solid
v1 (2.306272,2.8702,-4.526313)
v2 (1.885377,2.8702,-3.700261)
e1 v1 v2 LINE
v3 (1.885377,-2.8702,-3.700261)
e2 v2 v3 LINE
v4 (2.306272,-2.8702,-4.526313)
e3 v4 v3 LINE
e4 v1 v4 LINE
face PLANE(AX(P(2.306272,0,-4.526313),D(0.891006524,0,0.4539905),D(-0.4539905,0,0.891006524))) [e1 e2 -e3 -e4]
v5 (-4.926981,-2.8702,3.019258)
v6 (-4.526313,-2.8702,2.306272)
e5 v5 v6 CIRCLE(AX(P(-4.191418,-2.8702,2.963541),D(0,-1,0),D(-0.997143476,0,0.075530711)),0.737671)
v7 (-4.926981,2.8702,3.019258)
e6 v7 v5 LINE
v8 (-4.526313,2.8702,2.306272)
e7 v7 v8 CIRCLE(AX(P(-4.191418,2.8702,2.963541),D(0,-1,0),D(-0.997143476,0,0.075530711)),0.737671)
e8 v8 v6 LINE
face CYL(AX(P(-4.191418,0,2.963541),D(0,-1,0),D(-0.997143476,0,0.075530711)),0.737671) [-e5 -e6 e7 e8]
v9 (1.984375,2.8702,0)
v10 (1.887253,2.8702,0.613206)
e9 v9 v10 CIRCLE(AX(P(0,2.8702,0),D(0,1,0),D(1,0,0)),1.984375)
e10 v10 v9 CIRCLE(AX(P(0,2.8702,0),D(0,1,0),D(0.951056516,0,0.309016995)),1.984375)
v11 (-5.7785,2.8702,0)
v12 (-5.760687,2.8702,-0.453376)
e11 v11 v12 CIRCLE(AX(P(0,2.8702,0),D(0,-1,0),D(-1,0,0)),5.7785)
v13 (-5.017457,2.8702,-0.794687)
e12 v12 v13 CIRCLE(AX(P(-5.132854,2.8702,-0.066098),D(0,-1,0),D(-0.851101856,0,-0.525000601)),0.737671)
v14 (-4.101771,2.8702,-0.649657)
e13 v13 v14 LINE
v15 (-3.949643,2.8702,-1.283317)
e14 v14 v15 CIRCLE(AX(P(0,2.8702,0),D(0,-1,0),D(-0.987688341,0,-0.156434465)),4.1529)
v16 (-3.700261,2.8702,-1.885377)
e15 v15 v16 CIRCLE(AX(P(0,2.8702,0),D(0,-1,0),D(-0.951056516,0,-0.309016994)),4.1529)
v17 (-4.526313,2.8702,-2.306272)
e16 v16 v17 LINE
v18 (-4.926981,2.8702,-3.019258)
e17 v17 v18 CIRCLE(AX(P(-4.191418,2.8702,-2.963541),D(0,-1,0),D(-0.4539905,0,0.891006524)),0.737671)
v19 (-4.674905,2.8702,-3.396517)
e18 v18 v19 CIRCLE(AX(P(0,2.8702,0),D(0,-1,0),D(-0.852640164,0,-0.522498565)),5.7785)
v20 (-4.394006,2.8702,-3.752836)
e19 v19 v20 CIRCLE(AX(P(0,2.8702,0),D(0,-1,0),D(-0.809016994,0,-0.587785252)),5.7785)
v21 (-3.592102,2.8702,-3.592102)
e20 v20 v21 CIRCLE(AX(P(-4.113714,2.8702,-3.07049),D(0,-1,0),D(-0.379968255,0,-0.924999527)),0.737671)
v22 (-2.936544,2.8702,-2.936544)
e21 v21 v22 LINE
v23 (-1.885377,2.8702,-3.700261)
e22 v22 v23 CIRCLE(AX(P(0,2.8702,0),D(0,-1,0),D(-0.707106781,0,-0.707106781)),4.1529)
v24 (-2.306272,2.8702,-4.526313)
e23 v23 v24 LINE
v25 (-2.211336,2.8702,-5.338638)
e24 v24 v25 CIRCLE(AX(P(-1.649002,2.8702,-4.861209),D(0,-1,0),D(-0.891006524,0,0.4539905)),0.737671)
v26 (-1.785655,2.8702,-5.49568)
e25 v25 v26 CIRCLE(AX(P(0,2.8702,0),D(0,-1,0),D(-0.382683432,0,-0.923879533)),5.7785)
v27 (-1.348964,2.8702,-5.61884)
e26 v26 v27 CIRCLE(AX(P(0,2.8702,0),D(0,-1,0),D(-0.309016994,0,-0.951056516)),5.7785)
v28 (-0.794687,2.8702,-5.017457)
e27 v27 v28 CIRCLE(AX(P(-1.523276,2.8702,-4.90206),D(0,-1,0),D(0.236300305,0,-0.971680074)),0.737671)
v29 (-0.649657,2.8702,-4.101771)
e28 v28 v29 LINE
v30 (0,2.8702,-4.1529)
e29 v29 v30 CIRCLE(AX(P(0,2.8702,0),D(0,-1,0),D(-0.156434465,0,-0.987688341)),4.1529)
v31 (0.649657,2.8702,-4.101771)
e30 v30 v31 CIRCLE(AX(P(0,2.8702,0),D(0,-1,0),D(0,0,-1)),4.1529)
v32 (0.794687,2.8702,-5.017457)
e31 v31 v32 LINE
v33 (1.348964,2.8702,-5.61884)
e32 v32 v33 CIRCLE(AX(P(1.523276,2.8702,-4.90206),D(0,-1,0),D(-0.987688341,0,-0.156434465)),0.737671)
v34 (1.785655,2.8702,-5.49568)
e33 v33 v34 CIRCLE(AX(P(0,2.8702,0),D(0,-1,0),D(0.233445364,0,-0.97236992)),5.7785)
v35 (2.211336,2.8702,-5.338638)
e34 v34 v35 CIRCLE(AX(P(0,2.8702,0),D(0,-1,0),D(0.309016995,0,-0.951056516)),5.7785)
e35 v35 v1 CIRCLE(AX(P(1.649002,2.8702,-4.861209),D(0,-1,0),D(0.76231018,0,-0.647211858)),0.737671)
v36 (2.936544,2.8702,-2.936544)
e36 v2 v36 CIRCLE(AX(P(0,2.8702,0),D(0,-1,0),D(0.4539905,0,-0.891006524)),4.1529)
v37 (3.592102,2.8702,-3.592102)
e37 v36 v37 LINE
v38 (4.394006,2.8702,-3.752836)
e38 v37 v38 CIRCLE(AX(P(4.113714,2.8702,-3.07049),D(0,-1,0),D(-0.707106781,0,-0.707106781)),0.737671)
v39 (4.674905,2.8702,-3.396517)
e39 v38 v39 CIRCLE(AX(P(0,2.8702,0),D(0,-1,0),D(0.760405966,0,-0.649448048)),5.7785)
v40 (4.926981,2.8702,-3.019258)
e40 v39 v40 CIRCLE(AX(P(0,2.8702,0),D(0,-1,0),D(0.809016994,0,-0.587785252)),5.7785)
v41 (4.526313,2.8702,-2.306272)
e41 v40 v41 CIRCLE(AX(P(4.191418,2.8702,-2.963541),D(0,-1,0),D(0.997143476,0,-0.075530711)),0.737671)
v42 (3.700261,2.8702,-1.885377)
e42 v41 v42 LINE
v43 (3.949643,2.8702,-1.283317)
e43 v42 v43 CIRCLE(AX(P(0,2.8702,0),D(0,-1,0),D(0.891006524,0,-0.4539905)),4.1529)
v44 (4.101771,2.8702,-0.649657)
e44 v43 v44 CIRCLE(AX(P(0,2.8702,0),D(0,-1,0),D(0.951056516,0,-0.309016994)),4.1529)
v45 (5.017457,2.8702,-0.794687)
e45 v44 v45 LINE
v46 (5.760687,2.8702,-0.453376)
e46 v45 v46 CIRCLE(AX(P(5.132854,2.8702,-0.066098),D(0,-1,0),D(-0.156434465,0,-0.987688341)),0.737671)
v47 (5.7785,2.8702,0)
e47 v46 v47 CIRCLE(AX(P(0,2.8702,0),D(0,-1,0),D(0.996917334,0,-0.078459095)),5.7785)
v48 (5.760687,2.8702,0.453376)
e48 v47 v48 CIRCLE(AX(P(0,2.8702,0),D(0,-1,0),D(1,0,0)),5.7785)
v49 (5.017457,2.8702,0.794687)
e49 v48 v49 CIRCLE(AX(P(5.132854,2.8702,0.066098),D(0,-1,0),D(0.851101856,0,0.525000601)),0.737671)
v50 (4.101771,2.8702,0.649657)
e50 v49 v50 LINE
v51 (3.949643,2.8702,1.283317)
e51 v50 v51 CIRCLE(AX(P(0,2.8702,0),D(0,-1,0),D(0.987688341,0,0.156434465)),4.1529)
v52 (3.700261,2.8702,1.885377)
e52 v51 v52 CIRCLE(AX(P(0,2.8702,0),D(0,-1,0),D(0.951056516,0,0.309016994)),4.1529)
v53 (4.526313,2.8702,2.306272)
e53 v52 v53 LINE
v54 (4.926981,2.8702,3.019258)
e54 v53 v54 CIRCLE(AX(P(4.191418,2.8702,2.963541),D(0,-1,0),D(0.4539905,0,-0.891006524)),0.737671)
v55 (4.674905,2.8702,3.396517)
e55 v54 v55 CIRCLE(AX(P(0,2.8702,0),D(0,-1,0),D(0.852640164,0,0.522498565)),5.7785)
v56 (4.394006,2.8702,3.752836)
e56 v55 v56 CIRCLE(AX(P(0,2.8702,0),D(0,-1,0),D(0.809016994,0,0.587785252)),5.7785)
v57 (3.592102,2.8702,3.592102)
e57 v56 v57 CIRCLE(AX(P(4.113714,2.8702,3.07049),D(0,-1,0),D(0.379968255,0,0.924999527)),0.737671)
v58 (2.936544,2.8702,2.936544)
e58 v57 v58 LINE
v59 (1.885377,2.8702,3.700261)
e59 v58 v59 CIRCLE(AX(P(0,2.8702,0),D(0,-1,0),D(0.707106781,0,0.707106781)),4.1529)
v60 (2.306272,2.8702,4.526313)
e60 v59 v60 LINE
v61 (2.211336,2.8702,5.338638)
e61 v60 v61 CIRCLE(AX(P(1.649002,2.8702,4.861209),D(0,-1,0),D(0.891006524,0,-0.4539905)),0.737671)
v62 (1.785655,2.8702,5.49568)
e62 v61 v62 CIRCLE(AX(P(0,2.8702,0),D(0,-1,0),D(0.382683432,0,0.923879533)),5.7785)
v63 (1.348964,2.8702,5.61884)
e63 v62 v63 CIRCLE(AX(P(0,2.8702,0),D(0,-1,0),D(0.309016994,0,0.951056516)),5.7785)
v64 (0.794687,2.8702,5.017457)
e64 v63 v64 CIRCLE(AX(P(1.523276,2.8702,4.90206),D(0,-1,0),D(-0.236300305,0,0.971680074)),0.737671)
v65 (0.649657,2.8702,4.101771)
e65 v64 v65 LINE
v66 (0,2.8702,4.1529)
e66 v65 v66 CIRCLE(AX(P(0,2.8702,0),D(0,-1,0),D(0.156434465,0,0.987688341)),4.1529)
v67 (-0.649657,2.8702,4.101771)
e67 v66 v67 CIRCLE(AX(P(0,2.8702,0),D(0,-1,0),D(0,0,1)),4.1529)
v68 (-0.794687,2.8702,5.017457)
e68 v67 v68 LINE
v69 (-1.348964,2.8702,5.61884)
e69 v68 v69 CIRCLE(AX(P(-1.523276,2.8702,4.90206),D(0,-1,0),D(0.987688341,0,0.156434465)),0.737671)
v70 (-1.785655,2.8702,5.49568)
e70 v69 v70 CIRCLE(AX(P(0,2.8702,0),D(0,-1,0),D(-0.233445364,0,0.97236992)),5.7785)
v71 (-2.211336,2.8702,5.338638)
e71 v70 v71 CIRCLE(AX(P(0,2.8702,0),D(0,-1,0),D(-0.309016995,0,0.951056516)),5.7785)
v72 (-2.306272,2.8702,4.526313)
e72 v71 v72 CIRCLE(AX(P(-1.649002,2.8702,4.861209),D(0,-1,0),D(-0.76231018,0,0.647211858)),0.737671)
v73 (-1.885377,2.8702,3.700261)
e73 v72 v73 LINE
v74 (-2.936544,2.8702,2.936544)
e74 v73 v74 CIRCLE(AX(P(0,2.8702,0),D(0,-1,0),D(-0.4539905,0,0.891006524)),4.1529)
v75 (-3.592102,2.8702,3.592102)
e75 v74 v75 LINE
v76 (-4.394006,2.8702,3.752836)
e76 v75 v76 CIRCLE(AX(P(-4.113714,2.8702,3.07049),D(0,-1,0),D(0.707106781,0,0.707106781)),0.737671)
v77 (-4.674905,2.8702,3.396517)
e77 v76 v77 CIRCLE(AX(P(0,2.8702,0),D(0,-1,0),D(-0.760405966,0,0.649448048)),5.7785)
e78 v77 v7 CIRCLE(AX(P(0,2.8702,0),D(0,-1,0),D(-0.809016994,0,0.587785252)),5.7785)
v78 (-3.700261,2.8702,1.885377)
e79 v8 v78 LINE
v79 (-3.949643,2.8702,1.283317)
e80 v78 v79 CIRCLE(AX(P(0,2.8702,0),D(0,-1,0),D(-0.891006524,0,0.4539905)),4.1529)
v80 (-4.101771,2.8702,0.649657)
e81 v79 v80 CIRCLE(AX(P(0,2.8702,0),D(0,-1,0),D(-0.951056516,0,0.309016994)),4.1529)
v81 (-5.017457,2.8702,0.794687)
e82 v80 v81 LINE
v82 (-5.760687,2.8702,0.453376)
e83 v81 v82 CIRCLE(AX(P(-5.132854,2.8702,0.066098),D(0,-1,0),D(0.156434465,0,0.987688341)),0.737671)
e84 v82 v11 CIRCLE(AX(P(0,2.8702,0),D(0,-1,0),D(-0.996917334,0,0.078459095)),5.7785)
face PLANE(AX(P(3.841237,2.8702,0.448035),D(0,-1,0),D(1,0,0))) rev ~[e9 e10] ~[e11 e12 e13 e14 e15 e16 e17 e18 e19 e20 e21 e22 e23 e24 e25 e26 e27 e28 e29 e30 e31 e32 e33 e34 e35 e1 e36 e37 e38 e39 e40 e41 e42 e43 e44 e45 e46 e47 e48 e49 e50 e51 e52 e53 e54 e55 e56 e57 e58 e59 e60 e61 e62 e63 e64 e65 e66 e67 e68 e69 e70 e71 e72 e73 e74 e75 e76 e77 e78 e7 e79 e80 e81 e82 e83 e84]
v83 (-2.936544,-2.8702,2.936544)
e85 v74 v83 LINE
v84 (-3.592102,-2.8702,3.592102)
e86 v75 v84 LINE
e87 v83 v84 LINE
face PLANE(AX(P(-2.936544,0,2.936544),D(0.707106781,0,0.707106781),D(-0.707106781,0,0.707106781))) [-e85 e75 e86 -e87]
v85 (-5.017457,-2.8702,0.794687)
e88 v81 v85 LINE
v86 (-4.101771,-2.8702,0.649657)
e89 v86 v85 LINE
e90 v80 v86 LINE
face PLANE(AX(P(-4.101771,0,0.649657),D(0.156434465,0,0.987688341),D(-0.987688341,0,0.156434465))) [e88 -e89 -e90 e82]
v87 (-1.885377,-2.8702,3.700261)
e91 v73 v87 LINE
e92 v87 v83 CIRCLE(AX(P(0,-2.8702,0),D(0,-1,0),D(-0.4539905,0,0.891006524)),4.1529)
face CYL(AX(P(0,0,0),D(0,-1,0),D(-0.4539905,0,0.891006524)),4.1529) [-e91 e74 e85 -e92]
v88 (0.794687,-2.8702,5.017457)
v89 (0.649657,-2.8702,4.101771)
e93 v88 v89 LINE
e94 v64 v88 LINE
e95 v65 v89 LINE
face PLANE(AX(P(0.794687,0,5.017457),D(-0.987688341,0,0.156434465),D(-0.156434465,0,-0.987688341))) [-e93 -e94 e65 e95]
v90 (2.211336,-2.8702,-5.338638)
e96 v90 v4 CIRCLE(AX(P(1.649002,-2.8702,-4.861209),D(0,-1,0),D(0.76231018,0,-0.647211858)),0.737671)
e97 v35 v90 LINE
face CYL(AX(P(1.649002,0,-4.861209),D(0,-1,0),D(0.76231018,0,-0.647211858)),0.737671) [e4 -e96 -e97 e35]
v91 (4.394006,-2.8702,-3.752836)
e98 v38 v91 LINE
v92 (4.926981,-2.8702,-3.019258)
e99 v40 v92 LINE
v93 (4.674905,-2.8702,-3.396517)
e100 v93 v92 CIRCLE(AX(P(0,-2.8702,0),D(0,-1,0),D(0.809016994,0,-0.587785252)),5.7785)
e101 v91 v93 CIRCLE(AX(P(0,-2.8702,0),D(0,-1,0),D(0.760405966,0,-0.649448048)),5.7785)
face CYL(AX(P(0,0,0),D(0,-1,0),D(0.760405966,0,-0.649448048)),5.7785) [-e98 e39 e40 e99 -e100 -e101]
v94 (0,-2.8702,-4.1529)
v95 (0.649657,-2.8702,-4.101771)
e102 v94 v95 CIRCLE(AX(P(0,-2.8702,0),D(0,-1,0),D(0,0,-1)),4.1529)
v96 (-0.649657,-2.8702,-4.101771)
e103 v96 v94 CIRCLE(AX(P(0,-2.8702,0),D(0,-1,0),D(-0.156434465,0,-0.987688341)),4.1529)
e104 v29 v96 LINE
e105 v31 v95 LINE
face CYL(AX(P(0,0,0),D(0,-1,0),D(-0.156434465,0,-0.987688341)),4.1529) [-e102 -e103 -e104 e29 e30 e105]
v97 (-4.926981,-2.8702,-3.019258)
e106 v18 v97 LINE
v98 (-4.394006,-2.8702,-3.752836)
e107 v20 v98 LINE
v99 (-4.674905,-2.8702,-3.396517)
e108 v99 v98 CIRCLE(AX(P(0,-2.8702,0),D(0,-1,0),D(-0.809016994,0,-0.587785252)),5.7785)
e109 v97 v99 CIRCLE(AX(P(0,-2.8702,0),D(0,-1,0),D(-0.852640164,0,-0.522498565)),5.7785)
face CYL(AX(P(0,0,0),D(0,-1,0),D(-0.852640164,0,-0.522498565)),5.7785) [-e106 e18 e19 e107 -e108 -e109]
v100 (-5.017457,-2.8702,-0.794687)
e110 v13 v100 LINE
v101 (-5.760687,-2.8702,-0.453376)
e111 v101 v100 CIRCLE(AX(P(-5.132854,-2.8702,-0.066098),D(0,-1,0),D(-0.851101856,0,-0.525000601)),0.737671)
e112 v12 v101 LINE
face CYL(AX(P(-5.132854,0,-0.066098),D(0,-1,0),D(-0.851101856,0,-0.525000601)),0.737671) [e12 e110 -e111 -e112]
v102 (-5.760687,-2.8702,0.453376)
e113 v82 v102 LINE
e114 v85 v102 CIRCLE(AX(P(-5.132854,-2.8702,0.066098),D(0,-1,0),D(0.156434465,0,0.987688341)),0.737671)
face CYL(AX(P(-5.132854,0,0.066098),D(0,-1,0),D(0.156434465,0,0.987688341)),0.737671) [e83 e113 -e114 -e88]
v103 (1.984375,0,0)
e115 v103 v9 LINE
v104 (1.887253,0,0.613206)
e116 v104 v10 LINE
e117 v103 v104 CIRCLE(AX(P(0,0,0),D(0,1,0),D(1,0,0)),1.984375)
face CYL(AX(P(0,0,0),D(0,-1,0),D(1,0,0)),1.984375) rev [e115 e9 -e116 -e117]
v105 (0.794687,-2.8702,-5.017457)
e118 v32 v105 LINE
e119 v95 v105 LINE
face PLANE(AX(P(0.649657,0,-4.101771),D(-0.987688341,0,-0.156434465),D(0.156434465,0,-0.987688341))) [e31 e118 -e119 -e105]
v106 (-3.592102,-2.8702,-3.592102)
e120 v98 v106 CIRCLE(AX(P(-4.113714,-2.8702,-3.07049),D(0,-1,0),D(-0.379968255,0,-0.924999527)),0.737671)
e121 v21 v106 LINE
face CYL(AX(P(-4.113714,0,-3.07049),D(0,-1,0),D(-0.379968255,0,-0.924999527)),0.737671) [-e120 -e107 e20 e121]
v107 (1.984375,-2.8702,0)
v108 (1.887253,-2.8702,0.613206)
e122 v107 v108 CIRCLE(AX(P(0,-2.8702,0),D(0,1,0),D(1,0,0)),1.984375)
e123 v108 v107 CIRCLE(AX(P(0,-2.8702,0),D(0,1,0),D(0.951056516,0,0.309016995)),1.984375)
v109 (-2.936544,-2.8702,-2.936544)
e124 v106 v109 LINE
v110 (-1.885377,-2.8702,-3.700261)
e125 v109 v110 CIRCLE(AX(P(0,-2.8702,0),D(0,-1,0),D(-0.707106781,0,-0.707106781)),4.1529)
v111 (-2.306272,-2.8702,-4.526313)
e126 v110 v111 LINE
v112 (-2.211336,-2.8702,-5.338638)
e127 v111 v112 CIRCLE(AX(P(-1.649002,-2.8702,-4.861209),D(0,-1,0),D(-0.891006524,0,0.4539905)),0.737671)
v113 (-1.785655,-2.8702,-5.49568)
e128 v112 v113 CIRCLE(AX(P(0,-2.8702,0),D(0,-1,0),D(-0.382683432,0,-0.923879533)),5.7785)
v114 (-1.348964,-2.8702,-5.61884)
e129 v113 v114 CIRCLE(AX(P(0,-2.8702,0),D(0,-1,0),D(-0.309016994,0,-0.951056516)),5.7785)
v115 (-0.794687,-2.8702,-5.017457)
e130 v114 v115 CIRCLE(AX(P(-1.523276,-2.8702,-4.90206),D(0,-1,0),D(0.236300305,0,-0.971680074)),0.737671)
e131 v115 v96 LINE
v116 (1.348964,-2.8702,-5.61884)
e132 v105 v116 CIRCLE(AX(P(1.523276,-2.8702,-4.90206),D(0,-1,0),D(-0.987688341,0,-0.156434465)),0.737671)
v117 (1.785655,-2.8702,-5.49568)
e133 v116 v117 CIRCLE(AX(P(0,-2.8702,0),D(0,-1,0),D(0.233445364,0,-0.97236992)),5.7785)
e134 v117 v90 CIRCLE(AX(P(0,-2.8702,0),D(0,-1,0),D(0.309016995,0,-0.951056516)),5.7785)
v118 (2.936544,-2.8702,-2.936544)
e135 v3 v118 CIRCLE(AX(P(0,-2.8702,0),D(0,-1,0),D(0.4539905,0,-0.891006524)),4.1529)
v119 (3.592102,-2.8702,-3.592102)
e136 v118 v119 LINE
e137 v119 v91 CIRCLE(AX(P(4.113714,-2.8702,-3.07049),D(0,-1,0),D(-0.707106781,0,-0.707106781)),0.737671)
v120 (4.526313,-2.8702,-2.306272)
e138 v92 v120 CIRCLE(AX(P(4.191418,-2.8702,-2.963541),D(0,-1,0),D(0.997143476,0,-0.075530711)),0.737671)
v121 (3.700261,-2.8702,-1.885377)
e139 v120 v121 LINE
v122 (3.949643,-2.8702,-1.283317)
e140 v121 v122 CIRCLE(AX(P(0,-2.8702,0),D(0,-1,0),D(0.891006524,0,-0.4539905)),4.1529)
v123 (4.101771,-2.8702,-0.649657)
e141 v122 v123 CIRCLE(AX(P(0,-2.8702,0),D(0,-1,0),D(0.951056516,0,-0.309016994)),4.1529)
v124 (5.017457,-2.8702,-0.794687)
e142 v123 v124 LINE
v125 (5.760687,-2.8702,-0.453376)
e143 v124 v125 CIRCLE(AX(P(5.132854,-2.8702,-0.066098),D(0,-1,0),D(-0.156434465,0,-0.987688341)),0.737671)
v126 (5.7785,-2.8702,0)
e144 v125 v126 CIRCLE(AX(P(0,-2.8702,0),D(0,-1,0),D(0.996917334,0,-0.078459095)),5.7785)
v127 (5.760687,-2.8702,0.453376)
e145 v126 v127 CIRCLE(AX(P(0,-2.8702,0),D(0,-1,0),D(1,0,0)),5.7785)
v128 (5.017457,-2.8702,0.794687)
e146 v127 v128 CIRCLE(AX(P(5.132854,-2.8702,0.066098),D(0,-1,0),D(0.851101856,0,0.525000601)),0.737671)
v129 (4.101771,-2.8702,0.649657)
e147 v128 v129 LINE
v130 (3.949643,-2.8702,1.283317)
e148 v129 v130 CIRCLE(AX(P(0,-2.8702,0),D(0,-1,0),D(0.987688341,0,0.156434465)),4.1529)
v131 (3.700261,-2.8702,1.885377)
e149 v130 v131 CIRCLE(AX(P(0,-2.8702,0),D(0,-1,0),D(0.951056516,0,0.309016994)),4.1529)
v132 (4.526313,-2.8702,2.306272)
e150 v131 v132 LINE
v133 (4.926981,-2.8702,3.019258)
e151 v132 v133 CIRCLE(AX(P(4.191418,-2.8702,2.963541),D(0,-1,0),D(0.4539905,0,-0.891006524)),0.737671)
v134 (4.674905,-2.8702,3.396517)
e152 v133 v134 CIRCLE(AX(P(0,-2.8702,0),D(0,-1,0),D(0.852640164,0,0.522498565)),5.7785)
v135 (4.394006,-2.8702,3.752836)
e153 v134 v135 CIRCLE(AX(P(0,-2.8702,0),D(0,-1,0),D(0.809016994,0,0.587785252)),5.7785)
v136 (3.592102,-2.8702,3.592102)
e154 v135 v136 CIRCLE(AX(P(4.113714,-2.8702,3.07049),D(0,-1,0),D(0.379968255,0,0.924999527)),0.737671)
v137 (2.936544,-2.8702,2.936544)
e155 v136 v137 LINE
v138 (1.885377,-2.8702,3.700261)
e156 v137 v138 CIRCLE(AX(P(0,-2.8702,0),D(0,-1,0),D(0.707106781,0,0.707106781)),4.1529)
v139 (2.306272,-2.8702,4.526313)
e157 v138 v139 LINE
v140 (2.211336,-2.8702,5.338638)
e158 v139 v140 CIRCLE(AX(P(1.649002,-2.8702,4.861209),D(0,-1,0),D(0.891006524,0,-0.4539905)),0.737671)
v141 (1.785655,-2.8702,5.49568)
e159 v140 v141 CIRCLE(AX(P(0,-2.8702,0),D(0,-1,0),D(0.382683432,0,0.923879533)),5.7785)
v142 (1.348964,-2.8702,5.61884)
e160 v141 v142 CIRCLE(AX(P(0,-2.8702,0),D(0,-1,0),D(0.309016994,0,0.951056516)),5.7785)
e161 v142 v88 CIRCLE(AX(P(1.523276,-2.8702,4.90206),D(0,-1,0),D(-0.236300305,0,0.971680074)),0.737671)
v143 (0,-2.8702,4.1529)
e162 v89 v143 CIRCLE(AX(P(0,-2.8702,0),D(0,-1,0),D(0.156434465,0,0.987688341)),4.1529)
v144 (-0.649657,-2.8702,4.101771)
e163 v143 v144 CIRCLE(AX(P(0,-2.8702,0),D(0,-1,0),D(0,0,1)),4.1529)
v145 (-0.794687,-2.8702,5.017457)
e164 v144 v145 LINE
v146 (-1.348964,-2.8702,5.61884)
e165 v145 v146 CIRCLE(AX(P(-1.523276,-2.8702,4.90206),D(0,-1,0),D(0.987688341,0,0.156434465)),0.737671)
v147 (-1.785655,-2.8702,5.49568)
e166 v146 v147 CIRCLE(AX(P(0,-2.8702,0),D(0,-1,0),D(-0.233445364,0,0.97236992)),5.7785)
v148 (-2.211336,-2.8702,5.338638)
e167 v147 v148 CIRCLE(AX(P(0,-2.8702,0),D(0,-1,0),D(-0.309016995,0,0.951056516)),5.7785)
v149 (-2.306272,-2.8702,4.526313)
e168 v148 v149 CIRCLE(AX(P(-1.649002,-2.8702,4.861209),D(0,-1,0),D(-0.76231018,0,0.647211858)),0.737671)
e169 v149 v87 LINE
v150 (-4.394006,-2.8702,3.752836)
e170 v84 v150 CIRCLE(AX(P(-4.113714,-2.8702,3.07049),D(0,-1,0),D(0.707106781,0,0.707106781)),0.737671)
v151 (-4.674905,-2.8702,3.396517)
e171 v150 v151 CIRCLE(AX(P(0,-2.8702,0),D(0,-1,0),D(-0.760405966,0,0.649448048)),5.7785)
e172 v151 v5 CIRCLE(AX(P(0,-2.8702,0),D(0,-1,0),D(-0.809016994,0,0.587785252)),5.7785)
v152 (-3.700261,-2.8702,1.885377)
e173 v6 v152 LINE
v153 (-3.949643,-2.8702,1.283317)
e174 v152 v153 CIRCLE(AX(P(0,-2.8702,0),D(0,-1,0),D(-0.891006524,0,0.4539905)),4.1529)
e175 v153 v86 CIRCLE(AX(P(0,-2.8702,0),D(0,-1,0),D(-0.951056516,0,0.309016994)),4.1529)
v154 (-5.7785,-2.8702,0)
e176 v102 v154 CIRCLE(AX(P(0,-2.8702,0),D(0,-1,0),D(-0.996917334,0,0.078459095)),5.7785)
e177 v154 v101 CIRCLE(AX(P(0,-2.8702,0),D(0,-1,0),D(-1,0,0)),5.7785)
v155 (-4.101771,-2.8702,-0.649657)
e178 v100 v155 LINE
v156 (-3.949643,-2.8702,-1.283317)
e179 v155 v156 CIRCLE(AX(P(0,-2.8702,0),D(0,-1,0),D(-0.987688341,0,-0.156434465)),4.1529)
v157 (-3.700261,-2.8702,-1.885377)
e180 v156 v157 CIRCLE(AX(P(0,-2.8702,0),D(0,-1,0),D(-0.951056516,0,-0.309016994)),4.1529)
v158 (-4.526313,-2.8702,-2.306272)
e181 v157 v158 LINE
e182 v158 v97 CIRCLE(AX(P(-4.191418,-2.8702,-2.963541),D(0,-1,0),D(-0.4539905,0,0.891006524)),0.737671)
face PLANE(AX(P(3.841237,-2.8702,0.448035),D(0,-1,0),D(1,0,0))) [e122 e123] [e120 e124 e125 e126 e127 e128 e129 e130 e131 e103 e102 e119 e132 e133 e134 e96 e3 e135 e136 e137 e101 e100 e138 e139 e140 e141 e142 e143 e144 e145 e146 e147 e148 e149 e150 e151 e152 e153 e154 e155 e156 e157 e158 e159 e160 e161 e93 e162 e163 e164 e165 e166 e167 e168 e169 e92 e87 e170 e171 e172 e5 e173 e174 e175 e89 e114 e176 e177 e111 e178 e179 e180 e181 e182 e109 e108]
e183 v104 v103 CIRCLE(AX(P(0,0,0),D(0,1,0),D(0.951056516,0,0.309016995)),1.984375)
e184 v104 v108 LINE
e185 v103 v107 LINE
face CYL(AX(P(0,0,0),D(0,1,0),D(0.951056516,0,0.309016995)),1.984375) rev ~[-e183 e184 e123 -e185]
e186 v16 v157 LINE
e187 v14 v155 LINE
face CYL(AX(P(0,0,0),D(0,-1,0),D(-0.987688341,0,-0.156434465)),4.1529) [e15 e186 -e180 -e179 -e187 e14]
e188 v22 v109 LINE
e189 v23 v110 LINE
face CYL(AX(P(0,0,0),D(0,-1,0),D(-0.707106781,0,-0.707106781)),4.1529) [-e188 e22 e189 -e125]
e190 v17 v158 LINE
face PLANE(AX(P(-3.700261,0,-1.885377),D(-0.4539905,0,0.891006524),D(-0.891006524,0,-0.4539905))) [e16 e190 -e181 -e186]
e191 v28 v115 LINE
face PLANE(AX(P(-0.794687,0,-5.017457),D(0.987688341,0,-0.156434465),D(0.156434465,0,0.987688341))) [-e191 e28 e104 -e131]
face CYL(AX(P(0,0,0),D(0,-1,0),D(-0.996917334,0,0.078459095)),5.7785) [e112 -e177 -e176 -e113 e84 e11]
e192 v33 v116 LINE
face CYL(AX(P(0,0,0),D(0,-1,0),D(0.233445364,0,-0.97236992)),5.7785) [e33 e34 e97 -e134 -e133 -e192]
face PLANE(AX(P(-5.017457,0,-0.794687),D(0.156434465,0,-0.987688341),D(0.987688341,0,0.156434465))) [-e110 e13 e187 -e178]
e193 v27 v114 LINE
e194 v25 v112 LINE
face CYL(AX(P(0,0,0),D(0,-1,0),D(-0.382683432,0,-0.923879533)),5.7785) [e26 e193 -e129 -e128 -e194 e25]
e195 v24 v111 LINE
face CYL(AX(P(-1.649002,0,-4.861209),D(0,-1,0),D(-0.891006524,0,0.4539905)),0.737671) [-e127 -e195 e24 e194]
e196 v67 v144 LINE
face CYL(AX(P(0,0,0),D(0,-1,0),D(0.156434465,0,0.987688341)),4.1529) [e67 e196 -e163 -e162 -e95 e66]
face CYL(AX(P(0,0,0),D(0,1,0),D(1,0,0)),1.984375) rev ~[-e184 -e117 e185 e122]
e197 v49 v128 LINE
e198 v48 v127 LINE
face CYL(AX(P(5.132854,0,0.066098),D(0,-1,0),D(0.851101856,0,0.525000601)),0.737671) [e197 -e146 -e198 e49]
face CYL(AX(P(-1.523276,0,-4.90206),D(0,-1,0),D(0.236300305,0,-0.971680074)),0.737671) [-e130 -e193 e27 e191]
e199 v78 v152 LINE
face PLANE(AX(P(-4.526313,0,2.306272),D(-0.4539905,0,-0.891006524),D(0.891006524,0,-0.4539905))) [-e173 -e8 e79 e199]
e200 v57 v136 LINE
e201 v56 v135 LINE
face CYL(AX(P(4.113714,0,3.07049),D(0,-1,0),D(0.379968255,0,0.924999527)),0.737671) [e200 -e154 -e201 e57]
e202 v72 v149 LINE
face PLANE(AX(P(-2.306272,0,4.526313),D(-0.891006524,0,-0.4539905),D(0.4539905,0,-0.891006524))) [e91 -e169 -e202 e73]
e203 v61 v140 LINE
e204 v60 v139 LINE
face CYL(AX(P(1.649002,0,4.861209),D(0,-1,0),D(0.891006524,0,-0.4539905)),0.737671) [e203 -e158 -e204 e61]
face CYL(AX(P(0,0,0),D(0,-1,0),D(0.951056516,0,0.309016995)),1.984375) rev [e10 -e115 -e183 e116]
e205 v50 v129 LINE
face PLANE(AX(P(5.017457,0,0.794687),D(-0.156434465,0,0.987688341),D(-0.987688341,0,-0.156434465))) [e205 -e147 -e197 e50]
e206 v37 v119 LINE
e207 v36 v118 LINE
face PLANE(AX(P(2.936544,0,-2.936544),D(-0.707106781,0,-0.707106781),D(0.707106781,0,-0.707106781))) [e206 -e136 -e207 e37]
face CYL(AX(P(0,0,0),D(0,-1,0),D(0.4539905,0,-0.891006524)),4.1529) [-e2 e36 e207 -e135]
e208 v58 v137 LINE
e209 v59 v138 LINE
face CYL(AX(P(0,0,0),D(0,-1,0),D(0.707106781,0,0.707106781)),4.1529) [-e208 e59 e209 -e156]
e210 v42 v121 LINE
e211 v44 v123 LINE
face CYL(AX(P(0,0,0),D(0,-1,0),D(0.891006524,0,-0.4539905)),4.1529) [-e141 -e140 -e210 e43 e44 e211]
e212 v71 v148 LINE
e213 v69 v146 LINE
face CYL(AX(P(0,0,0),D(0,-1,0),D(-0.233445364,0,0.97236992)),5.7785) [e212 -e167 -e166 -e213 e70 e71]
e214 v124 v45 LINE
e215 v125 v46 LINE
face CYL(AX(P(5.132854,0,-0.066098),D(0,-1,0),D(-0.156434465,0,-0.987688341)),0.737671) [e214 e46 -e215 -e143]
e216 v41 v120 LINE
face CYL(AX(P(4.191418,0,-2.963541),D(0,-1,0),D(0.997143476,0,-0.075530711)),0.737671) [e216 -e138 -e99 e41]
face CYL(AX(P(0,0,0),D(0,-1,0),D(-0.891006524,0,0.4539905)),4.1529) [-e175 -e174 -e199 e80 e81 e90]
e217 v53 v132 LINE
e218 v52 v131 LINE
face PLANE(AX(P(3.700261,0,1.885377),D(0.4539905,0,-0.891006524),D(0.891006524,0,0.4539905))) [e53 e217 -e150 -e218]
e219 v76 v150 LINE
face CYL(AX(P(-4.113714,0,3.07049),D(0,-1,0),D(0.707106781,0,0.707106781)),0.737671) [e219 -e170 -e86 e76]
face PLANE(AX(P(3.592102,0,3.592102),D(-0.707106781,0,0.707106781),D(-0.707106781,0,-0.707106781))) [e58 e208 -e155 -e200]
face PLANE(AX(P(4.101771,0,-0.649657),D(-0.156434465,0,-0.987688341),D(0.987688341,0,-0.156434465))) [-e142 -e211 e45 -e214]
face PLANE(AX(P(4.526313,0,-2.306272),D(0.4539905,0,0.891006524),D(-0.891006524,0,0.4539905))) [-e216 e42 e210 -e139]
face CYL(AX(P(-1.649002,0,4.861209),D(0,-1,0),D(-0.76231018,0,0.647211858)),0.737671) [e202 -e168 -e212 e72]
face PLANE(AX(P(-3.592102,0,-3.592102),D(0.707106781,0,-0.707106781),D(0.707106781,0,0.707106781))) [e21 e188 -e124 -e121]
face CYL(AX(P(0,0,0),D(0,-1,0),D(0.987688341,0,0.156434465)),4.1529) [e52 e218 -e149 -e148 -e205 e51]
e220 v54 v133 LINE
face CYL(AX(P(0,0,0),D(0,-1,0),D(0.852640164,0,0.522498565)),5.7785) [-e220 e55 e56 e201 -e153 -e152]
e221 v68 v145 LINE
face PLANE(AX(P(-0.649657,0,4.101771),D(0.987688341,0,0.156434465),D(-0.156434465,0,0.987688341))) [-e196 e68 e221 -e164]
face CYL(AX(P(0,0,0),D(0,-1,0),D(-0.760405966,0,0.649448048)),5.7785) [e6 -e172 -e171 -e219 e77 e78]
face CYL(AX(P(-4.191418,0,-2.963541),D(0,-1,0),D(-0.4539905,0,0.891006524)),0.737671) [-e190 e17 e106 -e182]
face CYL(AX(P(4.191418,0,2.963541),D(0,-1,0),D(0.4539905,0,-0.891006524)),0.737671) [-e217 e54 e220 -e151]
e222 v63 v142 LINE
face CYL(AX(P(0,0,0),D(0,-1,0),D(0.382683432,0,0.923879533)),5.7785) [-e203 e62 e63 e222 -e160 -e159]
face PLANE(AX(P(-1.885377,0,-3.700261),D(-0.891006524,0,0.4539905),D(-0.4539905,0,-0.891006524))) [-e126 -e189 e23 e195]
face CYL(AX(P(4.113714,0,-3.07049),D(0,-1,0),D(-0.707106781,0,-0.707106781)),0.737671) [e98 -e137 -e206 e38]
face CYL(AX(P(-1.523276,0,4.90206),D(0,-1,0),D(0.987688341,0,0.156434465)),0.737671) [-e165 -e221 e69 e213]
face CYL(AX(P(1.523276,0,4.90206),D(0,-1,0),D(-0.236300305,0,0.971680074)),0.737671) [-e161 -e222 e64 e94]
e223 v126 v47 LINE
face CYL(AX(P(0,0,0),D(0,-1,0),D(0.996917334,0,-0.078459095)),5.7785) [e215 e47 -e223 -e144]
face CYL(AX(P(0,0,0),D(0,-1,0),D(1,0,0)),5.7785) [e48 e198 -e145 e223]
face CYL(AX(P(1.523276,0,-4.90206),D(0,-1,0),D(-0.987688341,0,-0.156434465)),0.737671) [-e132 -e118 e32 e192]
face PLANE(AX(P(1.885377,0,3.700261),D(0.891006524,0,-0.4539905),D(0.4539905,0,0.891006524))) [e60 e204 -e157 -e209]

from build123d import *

# Parameters (mm, degrees)
F1_DEPTH = 2.8702


with BuildPart() as f1:
    # F0 (on Front) → F1 (new body, symmetric)
    with BuildSketch(Plane.XZ):
        with BuildLine():
            ThreePointArc((5.7785, 0), (5.7740449859, 0.2268628454), (5.760686813, 0.4533758847))
            ThreePointArc((5.760686813, 0.4533758847), (5.4407027929, 0.736461757), (5.0174567702, 0.7946870824))
            Line((5.0174567702, 0.7946870824), (4.1017709097, 0.6496566899))
            ThreePointArc((4.1017709097, 0.6496566899), (4.0381550424, 0.9694752516), (3.9496426065, 1.2833166759))
            Line((3.9496426065, 1.2833166759), (1.8872527745, 0.6132055982))
            ThreePointArc((1.8872527745, 0.6132055982), (1.9599440509, 0.3104246416), (1.984375, 0))
            Line((1.984375, 0), (5.7785, 0))
        make_face()
        with BuildLine():
            ThreePointArc((5.760686813, -0.4533758847), (5.7740449859, -0.2268628454), (5.7785, 0))
            Line((5.7785, 0), (1.984375, 0))
            ThreePointArc((1.984375, 0), (-1.9599440509, -0.3104246416), (1.8872527745, 0.6132055982))
            Line((1.8872527745, 0.6132055982), (3.9496426065, 1.2833166759))
            ThreePointArc((3.9496426065, 1.2833166759), (3.8367793106, 1.5892460263), (3.7002609943, 1.8853771464))
            Line((3.7002609943, 1.8853771464), (4.5263131429, 2.3062717387))
            ThreePointArc((4.5263131429, 2.3062717387), (4.8345023804, 2.6021547867), (4.9269811897, 3.0192579562))
            ThreePointArc((4.9269811897, 3.0192579562), (4.8046471547, 3.2103625915), (4.674904702, 3.3965170804))
            ThreePointArc((4.674904702, 3.3965170804), (4.5379538851, 3.5774343861), (4.3940058722, 3.7528355473))
            ThreePointArc((4.3940058722, 3.7528355473), (3.9687396612, 3.7937749409), (3.5921024484, 3.5921024484))
            Line((3.5921024484, 3.5921024484), (2.9365437516, 2.9365437516))
            ThreePointArc((2.9365437516, 2.9365437516), (2.6970927999, 3.1578899345), (2.4410133742, 3.3597666759))
            ThreePointArc((2.4410133742, 3.3597666759), (2.1698842894, 3.5409293385), (1.8853771464, 3.7002609943))
            Line((1.8853771464, 3.7002609943), (2.3062717387, 4.5263131429))
            ThreePointArc((2.3062717387, 4.5263131429), (2.3816863773, 4.9468366458), (2.2113362139, 5.3386378786))
            ThreePointArc((2.2113362139, 5.3386378786), (2.0000374143, 5.4213386346), (1.785654702, 5.4956800794))
            ThreePointArc((1.785654702, 5.4956800794), (1.5685186395, 5.5615475838), (1.348964035, 5.618839585))
            ThreePointArc((1.348964035, 5.618839585), (0.9808528714, 5.401995043), (0.7946870824, 5.0174567702))
            Line((0.7946870824, 5.0174567702), (0.6496566899, 4.1017709097))
            ThreePointArc((0.6496566899, 4.1017709097), (0.3258327786, 4.1400979953), (0, 4.1529))
            ThreePointArc((0, 4.1529), (-0.3258327786, 4.1400979953), (-0.6496566899, 4.1017709097))
            Line((-0.6496566899, 4.1017709097), (-0.7946870824, 5.0174567702))
            ThreePointArc((-0.7946870824, 5.0174567702), (-0.9808528714, 5.401995043), (-1.348964035, 5.618839585))
            ThreePointArc((-1.348964035, 5.618839585), (-1.5685186395, 5.5615475838), (-1.785654702, 5.4956800794))
            ThreePointArc((-1.785654702, 5.4956800794), (-2.0000374143, 5.4213386346), (-2.2113362139, 5.3386378786))
            ThreePointArc((-2.2113362139, 5.3386378786), (-2.3816863773, 4.9468366458), (-2.3062717387, 4.5263131429))
            Line((-2.3062717387, 4.5263131429), (-1.8853771464, 3.7002609943))
            ThreePointArc((-1.8853771464, 3.7002609943), (-2.1698842894, 3.5409293385), (-2.4410133742, 3.3597666759))
            ThreePointArc((-2.4410133742, 3.3597666759), (-2.6970927999, 3.1578899345), (-2.9365437516, 2.9365437516))
            Line((-2.9365437516, 2.9365437516), (-3.5921024484, 3.5921024484))
            ThreePointArc((-3.5921024484, 3.5921024484), (-3.9687396612, 3.7937749409), (-4.3940058722, 3.7528355473))
            ThreePointArc((-4.3940058722, 3.7528355473), (-4.5379538851, 3.5774343861), (-4.674904702, 3.3965170804))
            ThreePointArc((-4.674904702, 3.3965170804), (-4.8046471547, 3.2103625915), (-4.9269811897, 3.0192579562))
            ThreePointArc((-4.9269811897, 3.0192579562), (-4.8345023804, 2.6021547867), (-4.5263131429, 2.3062717387))
            Line((-4.5263131429, 2.3062717387), (-3.7002609943, 1.8853771464))
            ThreePointArc((-3.7002609943, 1.8853771464), (-3.8367793106, 1.5892460263), (-3.9496426065, 1.2833166759))
            ThreePointArc((-3.9496426065, 1.2833166759), (-4.0381550424, 0.9694752516), (-4.1017709097, 0.6496566899))
            Line((-4.1017709097, 0.6496566899), (-5.0174567702, 0.7946870824))
            ThreePointArc((-5.0174567702, 0.7946870824), (-5.4407027929, 0.736461757), (-5.760686813, 0.4533758847))
            ThreePointArc((-5.760686813, 0.4533758847), (-5.7740449859, 0.2268628454), (-5.7785, 0))
            ThreePointArc((-5.7785, 0), (-5.7740449859, -0.2268628454), (-5.760686813, -0.4533758847))
            ThreePointArc((-5.760686813, -0.4533758847), (-5.4407027929, -0.736461757), (-5.0174567702, -0.7946870824))
            Line((-5.0174567702, -0.7946870824), (-4.1017709097, -0.6496566899))
            ThreePointArc((-4.1017709097, -0.6496566899), (-4.0381550424, -0.9694752516), (-3.9496426065, -1.2833166759))
            ThreePointArc((-3.9496426065, -1.2833166759), (-3.8367793106, -1.5892460263), (-3.7002609943, -1.8853771464))
            Line((-3.7002609943, -1.8853771464), (-4.5263131429, -2.3062717387))
            ThreePointArc((-4.5263131429, -2.3062717387), (-4.8345023804, -2.6021547867), (-4.9269811897, -3.0192579562))
            ThreePointArc((-4.9269811897, -3.0192579562), (-4.8046471547, -3.2103625915), (-4.674904702, -3.3965170804))
            ThreePointArc((-4.674904702, -3.3965170804), (-4.5379538851, -3.5774343861), (-4.3940058722, -3.7528355473))
            ThreePointArc((-4.3940058722, -3.7528355473), (-3.9687396612, -3.7937749409), (-3.5921024484, -3.5921024484))
            Line((-3.5921024484, -3.5921024484), (-2.9365437516, -2.9365437516))
            ThreePointArc((-2.9365437516, -2.9365437516), (-2.6970927999, -3.1578899345), (-2.4410133742, -3.3597666759))
            ThreePointArc((-2.4410133742, -3.3597666759), (-2.1698842894, -3.5409293385), (-1.8853771464, -3.7002609943))
            Line((-1.8853771464, -3.7002609943), (-2.3062717387, -4.5263131429))
            ThreePointArc((-2.3062717387, -4.5263131429), (-2.3816863773, -4.9468366458), (-2.2113362139, -5.3386378786))
            ThreePointArc((-2.2113362139, -5.3386378786), (-2.0000374143, -5.4213386346), (-1.785654702, -5.4956800794))
            ThreePointArc((-1.785654702, -5.4956800794), (-1.5685186395, -5.5615475838), (-1.348964035, -5.618839585))
            ThreePointArc((-1.348964035, -5.618839585), (-0.9808528714, -5.401995043), (-0.7946870824, -5.0174567702))
            Line((-0.7946870824, -5.0174567702), (-0.6496566899, -4.1017709097))
            ThreePointArc((-0.6496566899, -4.1017709097), (-0.3258327786, -4.1400979953), (0, -4.1529))
            ThreePointArc((0, -4.1529), (0.3258327786, -4.1400979953), (0.6496566899, -4.1017709097))
            Line((0.6496566899, -4.1017709097), (0.7946870824, -5.0174567702))
            ThreePointArc((0.7946870824, -5.0174567702), (0.9808528714, -5.401995043), (1.348964035, -5.618839585))
            ThreePointArc((1.348964035, -5.618839585), (1.5685186395, -5.5615475838), (1.785654702, -5.4956800794))
            ThreePointArc((1.785654702, -5.4956800794), (2.0000374143, -5.4213386346), (2.2113362139, -5.3386378786))
            ThreePointArc((2.2113362139, -5.3386378786), (2.3816863773, -4.9468366458), (2.3062717387, -4.5263131429))
            Line((2.3062717387, -4.5263131429), (1.8853771464, -3.7002609943))
            ThreePointArc((1.8853771464, -3.7002609943), (2.1698842894, -3.5409293385), (2.4410133742, -3.3597666759))
            ThreePointArc((2.4410133742, -3.3597666759), (2.6970927999, -3.1578899345), (2.9365437516, -2.9365437516))
            Line((2.9365437516, -2.9365437516), (3.5921024484, -3.5921024484))
            ThreePointArc((3.5921024484, -3.5921024484), (3.9687396612, -3.7937749409), (4.3940058722, -3.7528355473))
            ThreePointArc((4.3940058722, -3.7528355473), (4.5379538851, -3.5774343861), (4.674904702, -3.3965170804))
            ThreePointArc((4.674904702, -3.3965170804), (4.8046471547, -3.2103625915), (4.9269811897, -3.0192579562))
            ThreePointArc((4.9269811897, -3.0192579562), (4.8345023804, -2.6021547867), (4.5263131429, -2.3062717387))
            Line((4.5263131429, -2.3062717387), (3.7002609943, -1.8853771464))
            ThreePointArc((3.7002609943, -1.8853771464), (3.8367793106, -1.5892460263), (3.9496426065, -1.2833166759))
            ThreePointArc((3.9496426065, -1.2833166759), (4.0381550424, -0.9694752516), (4.1017709097, -0.6496566899))
            Line((4.1017709097, -0.6496566899), (5.0174567702, -0.7946870824))
            ThreePointArc((5.0174567702, -0.7946870824), (5.4407027929, -0.736461757), (5.760686813, -0.4533758847))
        make_face()
    extrude(amount=F1_DEPTH, both=True)


solid = f1.part
